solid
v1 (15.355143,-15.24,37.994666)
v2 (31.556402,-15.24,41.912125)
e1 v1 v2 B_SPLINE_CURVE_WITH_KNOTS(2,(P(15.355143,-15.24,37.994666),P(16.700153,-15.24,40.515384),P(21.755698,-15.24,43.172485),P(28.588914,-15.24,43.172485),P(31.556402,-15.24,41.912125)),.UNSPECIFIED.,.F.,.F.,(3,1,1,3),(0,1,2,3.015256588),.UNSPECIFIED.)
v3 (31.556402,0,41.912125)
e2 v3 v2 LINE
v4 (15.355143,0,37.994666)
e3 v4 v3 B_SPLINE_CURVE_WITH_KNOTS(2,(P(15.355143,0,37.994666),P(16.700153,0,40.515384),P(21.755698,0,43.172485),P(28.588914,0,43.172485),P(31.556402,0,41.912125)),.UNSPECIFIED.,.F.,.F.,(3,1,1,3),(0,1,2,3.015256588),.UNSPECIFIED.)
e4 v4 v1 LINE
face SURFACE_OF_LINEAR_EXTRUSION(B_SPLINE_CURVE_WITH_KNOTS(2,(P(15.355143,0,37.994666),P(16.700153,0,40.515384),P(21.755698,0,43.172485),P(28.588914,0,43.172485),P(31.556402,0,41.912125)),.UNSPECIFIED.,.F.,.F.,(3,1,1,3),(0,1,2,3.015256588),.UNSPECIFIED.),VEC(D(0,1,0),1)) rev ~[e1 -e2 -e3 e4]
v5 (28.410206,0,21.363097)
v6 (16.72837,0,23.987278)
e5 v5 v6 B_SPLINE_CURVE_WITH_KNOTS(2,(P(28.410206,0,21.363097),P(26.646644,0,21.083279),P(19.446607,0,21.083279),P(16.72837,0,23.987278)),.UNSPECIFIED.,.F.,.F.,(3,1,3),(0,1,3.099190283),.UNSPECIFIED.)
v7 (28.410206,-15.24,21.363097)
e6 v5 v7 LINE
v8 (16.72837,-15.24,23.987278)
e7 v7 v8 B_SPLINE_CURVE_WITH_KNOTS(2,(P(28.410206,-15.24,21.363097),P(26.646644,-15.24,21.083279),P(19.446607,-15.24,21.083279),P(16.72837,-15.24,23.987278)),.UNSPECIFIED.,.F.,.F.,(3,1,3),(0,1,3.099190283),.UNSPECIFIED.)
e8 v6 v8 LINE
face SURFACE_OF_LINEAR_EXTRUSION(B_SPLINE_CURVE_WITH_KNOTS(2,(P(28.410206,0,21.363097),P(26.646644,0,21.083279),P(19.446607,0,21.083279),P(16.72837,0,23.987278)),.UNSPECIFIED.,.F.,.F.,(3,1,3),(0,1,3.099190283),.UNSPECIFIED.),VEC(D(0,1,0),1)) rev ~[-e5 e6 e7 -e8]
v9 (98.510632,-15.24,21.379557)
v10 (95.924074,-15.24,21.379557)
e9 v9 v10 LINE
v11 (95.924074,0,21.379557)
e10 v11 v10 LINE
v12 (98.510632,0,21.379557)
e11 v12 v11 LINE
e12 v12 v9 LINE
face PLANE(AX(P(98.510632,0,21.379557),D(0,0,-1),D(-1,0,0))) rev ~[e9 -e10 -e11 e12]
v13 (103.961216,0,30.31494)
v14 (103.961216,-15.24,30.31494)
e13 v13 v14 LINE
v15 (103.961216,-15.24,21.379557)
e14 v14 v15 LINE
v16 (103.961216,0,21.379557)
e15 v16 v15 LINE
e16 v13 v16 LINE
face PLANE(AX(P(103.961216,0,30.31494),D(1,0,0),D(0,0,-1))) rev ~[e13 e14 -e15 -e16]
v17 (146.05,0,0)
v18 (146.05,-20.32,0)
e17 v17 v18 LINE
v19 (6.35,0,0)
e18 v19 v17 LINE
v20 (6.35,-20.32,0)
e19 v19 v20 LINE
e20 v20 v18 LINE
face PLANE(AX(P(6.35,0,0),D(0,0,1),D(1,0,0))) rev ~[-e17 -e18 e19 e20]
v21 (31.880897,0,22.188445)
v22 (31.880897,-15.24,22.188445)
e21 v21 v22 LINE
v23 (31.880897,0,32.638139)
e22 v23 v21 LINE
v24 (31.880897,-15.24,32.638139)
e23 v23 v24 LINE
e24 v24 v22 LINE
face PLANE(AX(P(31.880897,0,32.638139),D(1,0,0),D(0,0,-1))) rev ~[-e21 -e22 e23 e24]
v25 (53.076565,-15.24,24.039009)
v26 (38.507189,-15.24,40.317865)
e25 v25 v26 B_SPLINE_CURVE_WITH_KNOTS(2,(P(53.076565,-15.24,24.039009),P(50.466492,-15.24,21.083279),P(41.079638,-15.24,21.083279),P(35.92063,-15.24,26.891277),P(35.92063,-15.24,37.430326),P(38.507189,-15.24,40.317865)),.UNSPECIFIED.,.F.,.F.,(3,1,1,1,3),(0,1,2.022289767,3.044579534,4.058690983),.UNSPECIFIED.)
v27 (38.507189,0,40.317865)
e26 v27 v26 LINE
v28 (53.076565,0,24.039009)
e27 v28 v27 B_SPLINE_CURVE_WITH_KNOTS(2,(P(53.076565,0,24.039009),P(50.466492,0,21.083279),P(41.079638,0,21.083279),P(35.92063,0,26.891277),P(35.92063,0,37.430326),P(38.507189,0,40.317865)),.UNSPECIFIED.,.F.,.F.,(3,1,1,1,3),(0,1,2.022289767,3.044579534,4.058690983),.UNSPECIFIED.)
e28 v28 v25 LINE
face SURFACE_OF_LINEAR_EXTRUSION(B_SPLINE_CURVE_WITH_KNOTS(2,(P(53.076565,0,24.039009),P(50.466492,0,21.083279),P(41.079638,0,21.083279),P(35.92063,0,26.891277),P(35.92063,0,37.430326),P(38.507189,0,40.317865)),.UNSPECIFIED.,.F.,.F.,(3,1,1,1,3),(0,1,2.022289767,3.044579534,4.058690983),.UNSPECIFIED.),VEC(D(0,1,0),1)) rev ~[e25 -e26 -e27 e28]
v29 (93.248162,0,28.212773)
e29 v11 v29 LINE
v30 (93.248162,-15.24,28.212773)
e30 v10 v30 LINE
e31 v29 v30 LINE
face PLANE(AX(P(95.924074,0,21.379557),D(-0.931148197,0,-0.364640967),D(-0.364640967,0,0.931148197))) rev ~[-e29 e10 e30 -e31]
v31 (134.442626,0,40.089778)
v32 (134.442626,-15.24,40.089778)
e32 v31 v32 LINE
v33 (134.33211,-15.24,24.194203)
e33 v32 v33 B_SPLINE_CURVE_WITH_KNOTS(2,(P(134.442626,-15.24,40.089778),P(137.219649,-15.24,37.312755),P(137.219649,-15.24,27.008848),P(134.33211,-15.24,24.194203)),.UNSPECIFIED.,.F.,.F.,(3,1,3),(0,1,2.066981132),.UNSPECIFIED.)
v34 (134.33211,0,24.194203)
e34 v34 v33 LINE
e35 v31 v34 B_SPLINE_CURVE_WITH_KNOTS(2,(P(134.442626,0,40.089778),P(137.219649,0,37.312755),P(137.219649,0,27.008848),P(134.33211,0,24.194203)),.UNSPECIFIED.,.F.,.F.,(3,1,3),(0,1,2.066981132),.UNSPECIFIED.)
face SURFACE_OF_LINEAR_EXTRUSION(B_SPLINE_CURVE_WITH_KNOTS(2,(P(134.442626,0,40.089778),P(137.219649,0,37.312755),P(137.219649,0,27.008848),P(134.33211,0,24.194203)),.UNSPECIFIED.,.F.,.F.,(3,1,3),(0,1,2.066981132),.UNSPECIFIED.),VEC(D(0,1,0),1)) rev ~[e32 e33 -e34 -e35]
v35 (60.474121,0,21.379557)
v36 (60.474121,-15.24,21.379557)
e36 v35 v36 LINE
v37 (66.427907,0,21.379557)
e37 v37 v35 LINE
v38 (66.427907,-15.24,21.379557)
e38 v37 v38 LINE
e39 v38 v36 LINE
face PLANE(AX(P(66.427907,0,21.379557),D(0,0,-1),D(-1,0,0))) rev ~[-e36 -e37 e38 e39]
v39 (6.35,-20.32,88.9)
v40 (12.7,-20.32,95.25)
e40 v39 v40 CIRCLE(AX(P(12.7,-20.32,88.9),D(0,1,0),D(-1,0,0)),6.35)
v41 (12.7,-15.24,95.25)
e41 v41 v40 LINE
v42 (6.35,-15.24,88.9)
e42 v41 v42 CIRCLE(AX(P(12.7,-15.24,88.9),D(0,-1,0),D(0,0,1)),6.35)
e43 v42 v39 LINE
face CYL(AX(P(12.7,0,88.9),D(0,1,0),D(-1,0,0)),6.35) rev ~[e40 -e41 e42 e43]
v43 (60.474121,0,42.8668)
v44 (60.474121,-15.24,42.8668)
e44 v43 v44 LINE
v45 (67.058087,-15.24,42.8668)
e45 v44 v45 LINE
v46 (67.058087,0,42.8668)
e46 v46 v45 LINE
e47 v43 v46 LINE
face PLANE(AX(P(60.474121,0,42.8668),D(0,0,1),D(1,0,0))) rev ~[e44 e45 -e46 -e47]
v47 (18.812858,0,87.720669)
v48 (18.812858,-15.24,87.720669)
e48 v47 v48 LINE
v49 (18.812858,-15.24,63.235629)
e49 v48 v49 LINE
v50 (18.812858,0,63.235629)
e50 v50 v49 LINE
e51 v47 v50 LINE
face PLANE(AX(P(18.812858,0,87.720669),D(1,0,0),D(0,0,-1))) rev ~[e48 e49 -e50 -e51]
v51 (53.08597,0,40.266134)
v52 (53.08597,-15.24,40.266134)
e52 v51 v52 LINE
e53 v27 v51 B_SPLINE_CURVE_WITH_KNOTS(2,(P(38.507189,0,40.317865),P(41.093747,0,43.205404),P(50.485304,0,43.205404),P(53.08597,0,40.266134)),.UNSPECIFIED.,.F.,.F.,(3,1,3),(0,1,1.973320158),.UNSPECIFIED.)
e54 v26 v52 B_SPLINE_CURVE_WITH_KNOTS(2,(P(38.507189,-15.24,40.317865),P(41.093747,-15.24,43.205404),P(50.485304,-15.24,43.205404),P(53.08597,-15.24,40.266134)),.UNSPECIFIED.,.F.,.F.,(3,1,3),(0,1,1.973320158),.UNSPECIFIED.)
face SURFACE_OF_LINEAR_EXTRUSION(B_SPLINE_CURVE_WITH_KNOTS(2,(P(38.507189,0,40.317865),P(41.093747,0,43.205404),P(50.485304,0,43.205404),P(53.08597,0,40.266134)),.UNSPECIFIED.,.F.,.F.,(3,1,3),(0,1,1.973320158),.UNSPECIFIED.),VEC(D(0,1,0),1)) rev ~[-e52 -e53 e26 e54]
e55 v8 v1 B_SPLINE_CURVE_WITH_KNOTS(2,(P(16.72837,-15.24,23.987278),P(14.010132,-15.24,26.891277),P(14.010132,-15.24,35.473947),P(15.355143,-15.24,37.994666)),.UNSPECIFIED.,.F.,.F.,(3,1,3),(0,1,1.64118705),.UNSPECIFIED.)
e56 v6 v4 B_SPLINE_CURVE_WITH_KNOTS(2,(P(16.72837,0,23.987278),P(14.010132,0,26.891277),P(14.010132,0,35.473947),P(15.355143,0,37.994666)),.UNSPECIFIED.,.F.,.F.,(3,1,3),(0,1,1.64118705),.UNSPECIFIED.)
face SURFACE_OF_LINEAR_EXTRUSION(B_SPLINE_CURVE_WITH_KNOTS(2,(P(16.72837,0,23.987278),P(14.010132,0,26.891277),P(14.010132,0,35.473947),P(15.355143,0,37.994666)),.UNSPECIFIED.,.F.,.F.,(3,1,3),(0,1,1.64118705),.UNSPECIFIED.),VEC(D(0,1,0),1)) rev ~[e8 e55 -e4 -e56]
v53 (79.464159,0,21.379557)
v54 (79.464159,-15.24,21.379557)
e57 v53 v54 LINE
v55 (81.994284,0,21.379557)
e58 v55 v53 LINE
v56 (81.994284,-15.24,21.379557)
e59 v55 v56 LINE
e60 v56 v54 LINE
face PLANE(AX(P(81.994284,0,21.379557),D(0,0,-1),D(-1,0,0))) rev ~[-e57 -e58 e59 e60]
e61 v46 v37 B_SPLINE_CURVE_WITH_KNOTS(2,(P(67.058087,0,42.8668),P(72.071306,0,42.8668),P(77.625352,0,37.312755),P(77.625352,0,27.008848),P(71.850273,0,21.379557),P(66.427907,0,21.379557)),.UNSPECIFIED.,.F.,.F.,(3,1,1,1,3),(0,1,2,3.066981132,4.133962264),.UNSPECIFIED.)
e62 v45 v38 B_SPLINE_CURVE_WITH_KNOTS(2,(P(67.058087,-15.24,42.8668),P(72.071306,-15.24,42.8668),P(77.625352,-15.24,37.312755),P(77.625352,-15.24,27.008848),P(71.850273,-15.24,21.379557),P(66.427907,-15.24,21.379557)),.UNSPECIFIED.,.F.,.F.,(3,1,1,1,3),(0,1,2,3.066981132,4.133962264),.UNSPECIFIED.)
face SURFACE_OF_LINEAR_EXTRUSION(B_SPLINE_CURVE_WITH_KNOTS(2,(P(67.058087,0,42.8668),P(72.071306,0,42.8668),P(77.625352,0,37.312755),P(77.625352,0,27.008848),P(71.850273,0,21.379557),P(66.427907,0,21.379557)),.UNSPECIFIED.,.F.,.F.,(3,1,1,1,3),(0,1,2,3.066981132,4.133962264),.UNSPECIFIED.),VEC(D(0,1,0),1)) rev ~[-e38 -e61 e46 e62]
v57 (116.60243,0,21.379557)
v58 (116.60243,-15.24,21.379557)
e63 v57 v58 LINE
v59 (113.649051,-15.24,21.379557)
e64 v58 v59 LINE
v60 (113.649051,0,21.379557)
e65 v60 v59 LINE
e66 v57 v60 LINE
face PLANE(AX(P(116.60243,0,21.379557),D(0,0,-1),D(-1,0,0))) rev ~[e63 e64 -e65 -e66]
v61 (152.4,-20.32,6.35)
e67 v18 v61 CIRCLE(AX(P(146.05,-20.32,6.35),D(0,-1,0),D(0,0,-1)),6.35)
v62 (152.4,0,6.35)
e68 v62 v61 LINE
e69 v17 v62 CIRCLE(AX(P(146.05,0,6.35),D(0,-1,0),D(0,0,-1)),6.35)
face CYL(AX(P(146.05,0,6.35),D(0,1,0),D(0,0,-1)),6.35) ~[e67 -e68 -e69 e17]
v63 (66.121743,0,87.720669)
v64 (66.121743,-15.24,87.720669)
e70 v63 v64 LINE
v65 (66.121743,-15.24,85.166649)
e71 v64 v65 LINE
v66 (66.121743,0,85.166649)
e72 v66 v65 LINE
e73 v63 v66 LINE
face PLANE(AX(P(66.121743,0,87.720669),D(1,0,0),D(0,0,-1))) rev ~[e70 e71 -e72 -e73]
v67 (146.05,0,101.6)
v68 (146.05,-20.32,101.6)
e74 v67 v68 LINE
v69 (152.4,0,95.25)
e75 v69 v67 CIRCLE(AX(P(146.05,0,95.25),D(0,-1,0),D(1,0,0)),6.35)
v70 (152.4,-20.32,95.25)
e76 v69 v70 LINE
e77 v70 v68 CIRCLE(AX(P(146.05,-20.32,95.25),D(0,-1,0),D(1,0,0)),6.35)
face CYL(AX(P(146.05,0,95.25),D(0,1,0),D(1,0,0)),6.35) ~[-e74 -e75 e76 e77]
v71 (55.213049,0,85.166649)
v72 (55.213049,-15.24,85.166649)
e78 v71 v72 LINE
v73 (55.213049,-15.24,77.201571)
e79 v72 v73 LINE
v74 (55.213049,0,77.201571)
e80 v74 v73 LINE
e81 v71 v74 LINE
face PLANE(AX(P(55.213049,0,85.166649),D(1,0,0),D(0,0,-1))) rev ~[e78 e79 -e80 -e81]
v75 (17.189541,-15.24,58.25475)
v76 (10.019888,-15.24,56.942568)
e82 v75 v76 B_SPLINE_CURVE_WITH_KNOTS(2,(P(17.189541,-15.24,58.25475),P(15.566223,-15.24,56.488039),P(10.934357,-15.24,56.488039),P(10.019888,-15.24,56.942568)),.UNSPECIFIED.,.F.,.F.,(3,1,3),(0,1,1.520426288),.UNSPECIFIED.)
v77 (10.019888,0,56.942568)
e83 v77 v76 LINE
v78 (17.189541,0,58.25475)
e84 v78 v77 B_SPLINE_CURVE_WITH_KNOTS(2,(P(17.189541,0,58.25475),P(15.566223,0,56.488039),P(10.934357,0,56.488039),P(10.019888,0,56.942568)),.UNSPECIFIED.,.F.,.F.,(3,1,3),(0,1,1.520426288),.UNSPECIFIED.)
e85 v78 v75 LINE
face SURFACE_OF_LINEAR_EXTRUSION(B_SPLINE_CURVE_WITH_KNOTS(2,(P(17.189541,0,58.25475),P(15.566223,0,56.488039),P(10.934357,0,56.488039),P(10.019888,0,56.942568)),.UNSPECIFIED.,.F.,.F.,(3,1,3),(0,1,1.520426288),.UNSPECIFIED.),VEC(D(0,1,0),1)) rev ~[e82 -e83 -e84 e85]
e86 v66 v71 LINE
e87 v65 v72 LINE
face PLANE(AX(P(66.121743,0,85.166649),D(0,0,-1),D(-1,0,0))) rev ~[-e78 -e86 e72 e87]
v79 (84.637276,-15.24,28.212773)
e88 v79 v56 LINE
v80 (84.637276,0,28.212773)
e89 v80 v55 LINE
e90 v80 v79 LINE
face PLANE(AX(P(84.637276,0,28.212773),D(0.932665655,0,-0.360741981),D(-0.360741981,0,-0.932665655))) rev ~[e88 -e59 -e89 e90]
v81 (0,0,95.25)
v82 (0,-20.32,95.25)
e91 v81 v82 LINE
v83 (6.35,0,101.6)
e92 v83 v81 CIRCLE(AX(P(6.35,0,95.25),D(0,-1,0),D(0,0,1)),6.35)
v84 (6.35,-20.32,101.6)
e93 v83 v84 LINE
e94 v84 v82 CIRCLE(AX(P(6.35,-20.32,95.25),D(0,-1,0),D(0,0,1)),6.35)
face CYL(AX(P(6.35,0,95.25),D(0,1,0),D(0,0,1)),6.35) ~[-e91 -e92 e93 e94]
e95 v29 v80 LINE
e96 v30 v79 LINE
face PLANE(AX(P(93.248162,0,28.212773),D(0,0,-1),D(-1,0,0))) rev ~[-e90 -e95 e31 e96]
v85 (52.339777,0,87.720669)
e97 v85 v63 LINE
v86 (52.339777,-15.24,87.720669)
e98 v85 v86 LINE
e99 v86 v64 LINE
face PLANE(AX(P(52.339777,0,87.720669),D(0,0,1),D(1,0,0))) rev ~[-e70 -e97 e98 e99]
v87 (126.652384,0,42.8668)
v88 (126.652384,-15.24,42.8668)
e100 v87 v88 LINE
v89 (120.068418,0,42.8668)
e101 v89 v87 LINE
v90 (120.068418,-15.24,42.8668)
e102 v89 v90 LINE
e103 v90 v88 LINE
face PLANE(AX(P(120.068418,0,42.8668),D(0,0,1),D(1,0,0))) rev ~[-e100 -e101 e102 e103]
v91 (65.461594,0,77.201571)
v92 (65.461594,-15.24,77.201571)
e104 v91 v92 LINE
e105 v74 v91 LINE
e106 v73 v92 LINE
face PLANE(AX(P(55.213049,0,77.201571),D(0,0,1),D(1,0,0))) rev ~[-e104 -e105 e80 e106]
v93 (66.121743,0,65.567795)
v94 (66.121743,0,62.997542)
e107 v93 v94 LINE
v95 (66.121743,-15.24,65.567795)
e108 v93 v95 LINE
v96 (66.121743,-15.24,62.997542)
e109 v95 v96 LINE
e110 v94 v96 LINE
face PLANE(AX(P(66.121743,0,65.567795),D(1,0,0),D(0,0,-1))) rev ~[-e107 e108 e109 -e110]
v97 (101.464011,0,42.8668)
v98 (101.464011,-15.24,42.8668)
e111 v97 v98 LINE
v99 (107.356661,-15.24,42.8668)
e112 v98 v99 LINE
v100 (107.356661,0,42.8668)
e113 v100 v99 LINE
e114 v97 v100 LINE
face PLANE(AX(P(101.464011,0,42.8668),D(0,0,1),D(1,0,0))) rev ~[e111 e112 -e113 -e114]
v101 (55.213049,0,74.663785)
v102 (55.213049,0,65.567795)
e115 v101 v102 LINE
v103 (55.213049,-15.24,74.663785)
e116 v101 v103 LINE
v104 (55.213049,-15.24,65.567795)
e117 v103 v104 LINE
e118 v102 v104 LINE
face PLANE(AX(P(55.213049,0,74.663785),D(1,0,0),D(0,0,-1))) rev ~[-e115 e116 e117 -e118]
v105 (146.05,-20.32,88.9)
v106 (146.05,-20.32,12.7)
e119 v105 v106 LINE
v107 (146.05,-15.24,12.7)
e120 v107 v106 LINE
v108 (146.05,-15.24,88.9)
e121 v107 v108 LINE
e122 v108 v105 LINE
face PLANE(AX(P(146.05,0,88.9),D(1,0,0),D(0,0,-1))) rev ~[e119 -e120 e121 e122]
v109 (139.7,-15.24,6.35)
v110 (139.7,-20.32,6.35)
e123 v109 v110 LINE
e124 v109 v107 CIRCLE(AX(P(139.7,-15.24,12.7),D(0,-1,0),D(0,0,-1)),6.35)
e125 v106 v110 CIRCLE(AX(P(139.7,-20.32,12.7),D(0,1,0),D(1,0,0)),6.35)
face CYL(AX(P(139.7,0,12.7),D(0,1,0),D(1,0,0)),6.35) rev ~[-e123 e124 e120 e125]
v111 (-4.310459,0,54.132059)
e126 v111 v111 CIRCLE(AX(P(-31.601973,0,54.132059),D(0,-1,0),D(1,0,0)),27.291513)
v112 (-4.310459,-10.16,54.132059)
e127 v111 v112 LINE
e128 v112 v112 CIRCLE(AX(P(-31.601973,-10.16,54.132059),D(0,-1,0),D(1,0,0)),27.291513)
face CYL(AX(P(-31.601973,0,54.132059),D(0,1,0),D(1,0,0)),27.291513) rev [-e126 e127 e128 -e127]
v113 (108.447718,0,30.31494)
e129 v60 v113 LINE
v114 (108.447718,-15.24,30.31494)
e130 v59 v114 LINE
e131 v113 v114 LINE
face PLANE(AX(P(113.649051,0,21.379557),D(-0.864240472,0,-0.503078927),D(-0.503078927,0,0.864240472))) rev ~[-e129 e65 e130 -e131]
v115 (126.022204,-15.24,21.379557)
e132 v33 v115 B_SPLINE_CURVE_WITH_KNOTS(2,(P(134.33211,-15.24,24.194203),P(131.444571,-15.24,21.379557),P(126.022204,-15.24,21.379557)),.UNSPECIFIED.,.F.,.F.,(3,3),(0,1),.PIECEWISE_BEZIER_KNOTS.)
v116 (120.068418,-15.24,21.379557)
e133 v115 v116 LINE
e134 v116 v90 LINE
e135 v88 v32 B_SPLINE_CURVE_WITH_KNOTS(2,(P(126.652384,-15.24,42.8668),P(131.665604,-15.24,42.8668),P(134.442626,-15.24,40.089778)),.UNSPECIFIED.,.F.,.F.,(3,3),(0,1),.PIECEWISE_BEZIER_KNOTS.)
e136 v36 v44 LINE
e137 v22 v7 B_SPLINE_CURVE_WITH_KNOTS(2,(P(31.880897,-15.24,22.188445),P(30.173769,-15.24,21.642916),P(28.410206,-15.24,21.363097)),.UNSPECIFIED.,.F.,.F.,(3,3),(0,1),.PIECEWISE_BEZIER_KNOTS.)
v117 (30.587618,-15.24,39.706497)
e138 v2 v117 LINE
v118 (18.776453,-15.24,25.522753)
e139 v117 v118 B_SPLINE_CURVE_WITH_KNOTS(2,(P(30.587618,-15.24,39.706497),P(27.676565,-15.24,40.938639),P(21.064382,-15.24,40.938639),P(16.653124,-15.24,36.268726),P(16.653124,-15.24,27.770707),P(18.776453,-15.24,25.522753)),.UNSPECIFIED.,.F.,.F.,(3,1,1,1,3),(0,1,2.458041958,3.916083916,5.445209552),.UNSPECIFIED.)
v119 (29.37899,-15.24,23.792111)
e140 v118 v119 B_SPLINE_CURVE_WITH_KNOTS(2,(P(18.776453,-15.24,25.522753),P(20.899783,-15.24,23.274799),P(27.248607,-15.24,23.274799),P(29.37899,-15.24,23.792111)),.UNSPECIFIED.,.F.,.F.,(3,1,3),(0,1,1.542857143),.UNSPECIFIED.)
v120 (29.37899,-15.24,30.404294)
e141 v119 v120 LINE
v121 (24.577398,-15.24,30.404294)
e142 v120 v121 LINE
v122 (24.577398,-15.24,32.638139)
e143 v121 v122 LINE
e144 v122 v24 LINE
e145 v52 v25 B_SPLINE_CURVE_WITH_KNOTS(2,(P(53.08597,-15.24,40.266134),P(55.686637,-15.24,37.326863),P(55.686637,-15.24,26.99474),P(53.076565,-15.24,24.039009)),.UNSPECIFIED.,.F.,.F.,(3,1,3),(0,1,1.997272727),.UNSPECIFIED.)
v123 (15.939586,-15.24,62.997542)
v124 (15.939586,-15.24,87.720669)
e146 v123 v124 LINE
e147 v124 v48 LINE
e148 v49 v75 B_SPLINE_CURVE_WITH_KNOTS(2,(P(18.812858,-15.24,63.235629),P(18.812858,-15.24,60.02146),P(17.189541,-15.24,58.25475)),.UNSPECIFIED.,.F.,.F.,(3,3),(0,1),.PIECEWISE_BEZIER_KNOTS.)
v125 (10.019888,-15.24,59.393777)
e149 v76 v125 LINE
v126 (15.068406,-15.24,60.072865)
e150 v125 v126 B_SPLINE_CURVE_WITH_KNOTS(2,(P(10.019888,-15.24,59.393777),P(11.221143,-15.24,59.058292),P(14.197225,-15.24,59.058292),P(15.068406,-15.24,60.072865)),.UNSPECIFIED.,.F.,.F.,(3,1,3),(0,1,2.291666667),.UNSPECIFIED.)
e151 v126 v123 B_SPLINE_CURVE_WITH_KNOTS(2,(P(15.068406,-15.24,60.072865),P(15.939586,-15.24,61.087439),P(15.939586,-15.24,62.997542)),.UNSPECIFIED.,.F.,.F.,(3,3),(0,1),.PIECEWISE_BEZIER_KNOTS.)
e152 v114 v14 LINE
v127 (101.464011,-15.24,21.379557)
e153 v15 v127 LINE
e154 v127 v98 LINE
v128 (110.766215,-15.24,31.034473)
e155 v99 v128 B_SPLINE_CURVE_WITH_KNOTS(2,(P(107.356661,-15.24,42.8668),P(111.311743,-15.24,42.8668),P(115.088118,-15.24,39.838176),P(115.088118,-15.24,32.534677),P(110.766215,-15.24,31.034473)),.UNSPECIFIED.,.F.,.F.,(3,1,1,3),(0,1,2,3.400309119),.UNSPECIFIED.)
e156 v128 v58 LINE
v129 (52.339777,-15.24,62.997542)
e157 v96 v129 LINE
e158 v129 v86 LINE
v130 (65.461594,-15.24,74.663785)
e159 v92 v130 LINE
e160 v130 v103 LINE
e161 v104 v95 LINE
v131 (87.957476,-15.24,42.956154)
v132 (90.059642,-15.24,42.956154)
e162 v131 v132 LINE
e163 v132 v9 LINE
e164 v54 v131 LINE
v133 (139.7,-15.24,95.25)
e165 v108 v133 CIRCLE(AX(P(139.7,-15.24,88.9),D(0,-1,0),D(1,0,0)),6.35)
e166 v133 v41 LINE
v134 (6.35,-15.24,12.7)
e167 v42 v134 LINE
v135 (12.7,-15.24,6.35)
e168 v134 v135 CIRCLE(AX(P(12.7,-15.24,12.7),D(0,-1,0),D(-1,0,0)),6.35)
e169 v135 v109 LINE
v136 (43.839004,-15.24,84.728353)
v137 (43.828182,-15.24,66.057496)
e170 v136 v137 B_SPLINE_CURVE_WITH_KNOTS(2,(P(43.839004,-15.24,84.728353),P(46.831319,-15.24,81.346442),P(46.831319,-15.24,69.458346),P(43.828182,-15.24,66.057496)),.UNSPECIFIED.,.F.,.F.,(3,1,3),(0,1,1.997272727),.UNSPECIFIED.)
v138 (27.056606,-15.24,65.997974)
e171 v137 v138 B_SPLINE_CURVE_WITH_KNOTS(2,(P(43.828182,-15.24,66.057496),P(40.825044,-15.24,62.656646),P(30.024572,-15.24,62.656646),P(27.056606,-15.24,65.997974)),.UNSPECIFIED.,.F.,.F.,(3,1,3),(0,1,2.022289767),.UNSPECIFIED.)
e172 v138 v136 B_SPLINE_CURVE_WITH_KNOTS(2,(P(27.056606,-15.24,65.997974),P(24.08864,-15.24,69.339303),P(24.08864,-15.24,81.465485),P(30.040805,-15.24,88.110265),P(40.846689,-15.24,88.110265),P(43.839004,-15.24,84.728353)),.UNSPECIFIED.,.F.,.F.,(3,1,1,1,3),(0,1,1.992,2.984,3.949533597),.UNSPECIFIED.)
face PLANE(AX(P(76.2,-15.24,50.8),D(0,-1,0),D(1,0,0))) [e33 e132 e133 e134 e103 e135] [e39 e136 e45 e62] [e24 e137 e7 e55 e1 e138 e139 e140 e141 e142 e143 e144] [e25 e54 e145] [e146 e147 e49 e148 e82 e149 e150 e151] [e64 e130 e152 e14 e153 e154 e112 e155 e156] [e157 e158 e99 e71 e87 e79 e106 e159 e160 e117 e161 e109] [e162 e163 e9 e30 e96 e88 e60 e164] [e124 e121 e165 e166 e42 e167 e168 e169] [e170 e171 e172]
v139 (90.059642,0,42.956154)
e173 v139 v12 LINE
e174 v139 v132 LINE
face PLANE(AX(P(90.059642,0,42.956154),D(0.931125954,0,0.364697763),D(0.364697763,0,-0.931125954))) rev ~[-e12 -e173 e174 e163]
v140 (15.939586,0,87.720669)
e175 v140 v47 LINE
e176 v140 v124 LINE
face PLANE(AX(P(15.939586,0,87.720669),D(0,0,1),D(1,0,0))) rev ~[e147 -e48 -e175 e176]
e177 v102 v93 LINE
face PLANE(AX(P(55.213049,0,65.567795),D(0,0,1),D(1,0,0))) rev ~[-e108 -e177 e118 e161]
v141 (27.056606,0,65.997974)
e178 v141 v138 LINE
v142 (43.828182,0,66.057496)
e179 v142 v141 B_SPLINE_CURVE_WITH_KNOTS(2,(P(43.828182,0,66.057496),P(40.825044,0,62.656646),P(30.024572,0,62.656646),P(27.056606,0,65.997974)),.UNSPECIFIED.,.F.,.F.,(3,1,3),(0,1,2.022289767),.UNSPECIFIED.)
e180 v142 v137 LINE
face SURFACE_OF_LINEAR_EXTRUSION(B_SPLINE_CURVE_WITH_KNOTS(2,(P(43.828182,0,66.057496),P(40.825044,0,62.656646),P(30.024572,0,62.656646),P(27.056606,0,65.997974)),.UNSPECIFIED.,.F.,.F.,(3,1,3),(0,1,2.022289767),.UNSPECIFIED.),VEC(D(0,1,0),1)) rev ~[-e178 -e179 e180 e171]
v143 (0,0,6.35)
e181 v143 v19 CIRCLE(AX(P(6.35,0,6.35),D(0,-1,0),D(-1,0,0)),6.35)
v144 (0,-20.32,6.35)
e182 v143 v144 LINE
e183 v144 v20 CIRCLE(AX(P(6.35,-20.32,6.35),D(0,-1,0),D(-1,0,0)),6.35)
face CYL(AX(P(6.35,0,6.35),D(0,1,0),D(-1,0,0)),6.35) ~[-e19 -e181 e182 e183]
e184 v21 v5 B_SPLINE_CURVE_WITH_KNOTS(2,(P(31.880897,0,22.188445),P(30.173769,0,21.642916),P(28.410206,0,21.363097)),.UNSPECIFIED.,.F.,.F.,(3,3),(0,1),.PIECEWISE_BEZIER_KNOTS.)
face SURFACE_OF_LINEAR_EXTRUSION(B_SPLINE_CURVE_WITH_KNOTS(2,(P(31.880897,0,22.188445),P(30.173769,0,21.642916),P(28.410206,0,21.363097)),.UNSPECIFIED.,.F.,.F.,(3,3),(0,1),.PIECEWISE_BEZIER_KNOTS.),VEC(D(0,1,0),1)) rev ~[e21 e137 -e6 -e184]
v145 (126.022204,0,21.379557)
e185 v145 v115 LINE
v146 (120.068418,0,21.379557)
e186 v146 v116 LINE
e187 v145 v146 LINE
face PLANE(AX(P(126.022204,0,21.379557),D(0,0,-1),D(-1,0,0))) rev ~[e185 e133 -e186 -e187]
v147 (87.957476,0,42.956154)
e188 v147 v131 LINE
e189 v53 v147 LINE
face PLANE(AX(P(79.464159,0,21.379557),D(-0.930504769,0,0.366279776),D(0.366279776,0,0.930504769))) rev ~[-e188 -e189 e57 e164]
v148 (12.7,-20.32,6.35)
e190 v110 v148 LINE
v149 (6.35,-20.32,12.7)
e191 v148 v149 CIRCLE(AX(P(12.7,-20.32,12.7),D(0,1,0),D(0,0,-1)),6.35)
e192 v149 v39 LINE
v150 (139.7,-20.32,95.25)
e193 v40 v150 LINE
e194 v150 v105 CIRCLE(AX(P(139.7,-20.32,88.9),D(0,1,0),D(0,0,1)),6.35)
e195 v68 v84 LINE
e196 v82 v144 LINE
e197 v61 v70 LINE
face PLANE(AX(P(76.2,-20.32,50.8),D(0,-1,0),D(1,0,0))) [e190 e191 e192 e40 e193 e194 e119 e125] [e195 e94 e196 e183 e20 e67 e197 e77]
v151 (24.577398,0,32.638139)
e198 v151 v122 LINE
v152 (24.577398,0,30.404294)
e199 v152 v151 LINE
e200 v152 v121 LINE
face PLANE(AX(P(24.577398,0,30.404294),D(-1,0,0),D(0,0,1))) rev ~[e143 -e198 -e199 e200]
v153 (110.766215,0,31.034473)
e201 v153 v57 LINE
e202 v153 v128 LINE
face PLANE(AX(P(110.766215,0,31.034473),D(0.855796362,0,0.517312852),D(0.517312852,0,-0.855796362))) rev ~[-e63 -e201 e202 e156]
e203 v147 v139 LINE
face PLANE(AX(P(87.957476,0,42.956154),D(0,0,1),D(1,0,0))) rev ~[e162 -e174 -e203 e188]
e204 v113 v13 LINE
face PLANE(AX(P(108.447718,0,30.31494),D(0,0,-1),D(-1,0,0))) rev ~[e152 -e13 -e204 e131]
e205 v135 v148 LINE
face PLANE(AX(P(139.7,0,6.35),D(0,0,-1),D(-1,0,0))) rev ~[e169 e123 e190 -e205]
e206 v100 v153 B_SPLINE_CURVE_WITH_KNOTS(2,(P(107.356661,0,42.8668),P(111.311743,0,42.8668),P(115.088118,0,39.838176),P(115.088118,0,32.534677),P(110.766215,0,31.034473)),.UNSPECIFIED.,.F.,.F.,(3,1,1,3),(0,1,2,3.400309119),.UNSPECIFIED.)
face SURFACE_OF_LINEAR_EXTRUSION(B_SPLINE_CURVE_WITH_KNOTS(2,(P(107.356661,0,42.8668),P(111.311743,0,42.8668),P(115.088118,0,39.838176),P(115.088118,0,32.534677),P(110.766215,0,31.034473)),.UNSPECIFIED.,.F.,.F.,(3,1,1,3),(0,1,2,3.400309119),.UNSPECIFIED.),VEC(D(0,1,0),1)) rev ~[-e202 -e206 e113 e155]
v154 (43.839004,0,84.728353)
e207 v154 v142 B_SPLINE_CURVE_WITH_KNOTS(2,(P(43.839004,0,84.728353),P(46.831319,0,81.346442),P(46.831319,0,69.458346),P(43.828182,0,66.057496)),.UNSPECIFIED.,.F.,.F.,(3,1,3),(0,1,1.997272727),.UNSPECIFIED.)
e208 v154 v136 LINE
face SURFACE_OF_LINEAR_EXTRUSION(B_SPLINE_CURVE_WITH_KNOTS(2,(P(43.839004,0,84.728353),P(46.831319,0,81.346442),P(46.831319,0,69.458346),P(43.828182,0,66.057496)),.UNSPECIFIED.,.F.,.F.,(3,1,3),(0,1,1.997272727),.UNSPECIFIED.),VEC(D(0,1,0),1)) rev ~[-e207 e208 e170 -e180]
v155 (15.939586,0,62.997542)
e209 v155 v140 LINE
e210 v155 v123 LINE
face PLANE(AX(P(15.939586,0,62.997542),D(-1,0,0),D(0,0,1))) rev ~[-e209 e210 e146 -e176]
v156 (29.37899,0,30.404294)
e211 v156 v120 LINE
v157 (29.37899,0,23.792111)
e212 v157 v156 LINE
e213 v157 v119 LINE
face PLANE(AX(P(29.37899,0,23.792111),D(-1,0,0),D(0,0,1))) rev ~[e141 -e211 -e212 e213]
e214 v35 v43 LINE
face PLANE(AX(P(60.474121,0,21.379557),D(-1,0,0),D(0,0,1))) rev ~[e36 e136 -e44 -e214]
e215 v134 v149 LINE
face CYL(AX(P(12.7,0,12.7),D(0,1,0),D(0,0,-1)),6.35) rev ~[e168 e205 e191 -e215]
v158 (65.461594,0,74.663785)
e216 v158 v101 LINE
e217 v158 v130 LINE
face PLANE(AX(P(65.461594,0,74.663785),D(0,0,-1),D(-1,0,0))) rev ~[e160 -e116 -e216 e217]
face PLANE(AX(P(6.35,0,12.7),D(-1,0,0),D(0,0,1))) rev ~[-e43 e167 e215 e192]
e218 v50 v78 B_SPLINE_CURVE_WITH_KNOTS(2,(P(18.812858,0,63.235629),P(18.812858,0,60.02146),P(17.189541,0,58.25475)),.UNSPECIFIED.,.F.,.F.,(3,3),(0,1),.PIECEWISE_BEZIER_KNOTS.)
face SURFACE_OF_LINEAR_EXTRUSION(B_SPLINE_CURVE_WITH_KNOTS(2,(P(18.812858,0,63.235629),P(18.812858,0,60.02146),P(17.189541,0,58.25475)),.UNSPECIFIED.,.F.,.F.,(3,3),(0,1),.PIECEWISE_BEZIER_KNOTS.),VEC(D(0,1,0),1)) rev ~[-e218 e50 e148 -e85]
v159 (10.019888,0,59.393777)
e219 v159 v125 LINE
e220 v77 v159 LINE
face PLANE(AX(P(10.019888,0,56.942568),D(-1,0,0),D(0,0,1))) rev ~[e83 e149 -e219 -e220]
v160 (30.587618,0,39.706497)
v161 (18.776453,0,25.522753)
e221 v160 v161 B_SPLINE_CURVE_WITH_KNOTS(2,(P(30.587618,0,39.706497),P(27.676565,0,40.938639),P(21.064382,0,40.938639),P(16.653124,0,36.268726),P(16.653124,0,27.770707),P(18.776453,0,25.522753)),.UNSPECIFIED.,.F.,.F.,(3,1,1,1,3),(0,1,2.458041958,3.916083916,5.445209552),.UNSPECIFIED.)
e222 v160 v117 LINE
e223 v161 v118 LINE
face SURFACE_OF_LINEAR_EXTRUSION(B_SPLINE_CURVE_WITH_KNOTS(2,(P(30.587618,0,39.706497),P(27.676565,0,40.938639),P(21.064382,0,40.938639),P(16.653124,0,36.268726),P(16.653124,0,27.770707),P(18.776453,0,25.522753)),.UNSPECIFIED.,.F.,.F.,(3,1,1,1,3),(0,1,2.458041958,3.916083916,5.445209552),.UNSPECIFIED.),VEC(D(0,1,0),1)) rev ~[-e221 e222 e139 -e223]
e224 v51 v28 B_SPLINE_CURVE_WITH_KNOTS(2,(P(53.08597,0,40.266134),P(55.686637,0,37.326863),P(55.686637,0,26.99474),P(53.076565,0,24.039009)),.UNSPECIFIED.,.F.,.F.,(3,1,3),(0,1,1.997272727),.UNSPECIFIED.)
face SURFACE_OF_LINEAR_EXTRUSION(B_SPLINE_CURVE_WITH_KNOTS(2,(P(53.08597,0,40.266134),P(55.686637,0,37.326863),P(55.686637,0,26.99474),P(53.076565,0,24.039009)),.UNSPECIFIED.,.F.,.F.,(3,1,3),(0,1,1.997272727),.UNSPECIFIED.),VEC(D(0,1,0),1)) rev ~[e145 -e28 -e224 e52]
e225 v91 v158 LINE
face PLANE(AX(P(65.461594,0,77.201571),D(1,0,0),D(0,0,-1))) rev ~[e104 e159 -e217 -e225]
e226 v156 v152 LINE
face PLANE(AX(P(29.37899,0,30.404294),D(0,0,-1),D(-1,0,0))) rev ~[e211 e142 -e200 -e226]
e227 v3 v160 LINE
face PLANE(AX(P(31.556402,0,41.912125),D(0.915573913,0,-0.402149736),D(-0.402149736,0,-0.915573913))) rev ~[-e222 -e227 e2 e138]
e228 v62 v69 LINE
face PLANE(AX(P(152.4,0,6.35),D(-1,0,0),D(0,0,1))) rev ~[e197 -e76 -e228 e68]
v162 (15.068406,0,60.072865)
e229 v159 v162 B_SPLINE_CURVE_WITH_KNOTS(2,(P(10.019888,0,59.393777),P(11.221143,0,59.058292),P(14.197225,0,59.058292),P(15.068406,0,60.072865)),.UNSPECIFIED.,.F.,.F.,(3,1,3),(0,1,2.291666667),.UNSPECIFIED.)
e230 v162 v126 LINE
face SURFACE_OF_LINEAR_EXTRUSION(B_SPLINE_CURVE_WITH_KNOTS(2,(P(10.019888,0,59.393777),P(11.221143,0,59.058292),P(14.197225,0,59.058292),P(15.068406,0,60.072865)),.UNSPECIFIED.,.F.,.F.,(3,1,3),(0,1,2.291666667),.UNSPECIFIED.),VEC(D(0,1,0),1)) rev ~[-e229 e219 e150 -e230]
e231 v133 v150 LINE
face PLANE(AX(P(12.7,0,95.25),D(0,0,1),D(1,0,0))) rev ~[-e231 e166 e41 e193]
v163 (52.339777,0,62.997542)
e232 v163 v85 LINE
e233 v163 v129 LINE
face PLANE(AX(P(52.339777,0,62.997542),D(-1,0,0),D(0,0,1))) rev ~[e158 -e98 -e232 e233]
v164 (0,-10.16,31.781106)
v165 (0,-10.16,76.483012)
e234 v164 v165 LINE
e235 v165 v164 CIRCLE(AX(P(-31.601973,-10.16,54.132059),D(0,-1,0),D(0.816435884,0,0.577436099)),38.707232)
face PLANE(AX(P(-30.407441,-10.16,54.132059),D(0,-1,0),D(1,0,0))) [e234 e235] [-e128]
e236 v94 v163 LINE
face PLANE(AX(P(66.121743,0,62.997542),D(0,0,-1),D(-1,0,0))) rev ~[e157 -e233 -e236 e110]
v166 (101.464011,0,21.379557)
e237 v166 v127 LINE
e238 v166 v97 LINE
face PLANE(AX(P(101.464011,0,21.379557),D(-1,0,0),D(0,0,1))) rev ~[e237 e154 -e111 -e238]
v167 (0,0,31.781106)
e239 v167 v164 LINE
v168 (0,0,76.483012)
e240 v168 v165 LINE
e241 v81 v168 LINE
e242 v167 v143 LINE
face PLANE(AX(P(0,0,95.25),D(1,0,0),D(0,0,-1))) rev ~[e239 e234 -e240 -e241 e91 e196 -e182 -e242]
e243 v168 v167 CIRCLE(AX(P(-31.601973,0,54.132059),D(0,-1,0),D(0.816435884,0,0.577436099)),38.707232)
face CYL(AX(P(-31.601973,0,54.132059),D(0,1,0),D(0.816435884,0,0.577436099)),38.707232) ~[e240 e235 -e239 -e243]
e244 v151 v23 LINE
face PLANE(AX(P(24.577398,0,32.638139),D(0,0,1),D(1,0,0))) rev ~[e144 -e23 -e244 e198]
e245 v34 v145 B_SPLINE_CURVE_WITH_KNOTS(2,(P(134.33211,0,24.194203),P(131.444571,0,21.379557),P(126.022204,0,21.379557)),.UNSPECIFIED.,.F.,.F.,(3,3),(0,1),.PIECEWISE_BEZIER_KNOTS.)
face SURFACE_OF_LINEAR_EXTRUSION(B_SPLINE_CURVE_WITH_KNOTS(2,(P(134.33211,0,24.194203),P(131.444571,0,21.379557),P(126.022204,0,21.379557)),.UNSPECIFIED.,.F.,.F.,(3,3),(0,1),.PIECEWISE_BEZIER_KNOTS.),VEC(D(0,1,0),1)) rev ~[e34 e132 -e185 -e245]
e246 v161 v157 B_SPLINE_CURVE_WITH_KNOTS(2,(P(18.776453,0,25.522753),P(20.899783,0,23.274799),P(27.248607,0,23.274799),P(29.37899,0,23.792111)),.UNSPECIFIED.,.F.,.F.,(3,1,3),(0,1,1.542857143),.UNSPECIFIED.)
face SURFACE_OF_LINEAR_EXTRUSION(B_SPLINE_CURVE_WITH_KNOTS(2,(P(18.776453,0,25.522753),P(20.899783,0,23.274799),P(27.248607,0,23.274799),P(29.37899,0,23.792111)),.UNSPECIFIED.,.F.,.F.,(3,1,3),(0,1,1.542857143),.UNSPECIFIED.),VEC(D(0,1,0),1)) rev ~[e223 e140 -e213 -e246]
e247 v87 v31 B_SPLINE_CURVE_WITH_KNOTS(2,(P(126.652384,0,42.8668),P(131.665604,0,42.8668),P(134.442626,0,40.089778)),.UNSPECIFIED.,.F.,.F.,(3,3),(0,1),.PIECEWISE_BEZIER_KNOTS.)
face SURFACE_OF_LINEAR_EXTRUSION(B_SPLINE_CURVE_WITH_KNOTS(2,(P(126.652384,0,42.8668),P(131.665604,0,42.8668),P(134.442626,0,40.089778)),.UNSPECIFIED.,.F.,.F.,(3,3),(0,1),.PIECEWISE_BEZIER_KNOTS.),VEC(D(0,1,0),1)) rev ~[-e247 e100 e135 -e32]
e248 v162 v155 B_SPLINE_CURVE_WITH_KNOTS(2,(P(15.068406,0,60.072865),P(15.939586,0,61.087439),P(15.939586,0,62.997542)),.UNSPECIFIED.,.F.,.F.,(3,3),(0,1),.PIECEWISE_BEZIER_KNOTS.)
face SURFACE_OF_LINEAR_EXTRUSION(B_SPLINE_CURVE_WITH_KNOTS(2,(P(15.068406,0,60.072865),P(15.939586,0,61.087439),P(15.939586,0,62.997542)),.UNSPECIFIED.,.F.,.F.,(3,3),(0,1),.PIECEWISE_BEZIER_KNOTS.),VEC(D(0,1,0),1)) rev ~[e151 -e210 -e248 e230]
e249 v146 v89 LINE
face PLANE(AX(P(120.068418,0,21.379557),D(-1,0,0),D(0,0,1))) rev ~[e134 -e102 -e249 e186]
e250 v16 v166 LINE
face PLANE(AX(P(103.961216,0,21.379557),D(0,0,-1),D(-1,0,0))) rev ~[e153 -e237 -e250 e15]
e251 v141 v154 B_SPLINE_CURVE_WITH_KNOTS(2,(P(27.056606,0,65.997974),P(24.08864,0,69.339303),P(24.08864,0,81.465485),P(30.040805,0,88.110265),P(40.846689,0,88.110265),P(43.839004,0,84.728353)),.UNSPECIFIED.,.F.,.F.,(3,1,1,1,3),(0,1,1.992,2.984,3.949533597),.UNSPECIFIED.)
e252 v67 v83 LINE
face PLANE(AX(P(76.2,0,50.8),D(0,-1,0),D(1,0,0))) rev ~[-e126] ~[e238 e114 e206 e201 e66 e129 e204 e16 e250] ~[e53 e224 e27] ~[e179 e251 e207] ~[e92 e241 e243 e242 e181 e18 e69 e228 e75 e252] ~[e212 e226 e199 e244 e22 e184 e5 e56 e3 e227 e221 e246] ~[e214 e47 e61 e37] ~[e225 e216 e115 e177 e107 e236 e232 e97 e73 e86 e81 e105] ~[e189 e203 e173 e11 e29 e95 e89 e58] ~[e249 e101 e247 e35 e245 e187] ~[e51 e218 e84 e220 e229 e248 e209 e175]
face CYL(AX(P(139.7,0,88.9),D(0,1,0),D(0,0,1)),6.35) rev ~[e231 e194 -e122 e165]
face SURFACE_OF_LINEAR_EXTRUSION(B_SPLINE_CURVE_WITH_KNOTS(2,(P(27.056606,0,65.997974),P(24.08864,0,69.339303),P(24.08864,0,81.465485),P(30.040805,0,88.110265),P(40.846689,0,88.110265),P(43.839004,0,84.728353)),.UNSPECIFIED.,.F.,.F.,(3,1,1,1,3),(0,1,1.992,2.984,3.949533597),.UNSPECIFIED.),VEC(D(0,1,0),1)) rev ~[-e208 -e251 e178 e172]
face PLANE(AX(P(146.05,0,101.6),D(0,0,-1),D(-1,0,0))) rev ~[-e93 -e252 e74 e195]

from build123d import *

# Parameters (mm, degrees)
F1_DEPTH = 20.32
F2_DEPTH = 15.24
F0_R     = 27.2915133995
F3_DEPTH = 10.16


with BuildPart() as f1:
    # F0 (on Front) → F1 (new body)
    with BuildSketch(Plane.XZ):
        with BuildLine():
            ThreePointArc((0, 6.35), (1.8598719395, 1.8598719395), (6.35, 0))
            Line((6.35, 0), (146.05, 0))
            ThreePointArc((146.05, 0), (150.5401280605, 1.8598719395), (152.4, 6.35))
            Line((152.4, 6.35), (152.4, 95.25))
            ThreePointArc((152.4, 95.25), (150.5401280605, 99.7401280605), (146.05, 101.6))
            Line((146.05, 101.6), (6.35, 101.6))
            ThreePointArc((6.35, 101.6), (1.8598719395, 99.7401280605), (0, 95.25))
            Line((0, 95.25), (0, 76.4830120565))
            Line((0, 76.4830120565), (0, 31.7811063765))
            Line((0, 31.7811063765), (0, 6.35))
        make_face()
        with BuildLine():
            ThreePointArc((6.35, 88.9), (8.2098719395, 93.3901280605), (12.7, 95.25))
            Line((12.7, 95.25), (139.7, 95.25))
            ThreePointArc((139.7, 95.25), (144.1901280605, 93.3901280605), (146.05, 88.9))
            Line((146.05, 88.9), (146.05, 12.7))
            ThreePointArc((146.05, 12.7), (144.1901280605, 8.2098719395), (139.7, 6.35))
            Line((139.7, 6.35), (12.7, 6.35))
            ThreePointArc((12.7, 6.35), (8.2098719395, 8.2098719395), (6.35, 12.7))
            Line((6.35, 12.7), (6.35, 88.9))
        make_face(mode=Mode.SUBTRACT)
    extrude(amount=F1_DEPTH)

    # F0 (on Front) → F2 (join)
    with BuildSketch(Plane.XZ):
        with BuildLine():
            Line((139.7, 95.25), (12.7, 95.25))
            ThreePointArc((12.7, 95.25), (8.2098719395, 93.3901280605), (6.35, 88.9))
            Line((6.35, 88.9), (6.35, 12.7))
            ThreePointArc((6.35, 12.7), (8.2098719395, 8.2098719395), (12.7, 6.35))
            Line((12.7, 6.35), (139.7, 6.35))
            ThreePointArc((139.7, 6.35), (144.1901280605, 8.2098719395), (146.05, 12.7))
            Line((146.05, 12.7), (146.05, 88.9))
            ThreePointArc((146.05, 88.9), (144.1901280605, 93.3901280605), (139.7, 95.25))
        make_face()
        with BuildLine():
            Line((24.5773977576, 30.4042935003), (24.5773977576, 32.6381390844))
            Line((24.5773977576, 32.6381390844), (31.8808971096, 32.6381390844))
            Line((31.8808971096, 32.6381390844), (31.8808971096, 22.1884445834))
            add(Edge.make_bspline(
                [(31.8808971096, 22.1884445834), (30.1737688, 21.6429159776), (28.4102064967, 21.3630974255)],
                knots=[0, 0, 0, 1, 1, 1], degree=2))
            add(Edge.make_bspline(
                [(28.4102064967, 21.3630974255), (26.6466441934, 21.0832788733), (24.3234447859, 21.0832788733)],
                knots=[0, 0, 0, 1, 1, 1], degree=2))
            add(Edge.make_bspline(
                [(24.3234447859, 21.0832788733), (19.4466071633, 21.0832788733), (16.7283697998, 23.9872781327)],
                knots=[0, 0, 0, 1, 1, 1], degree=2))
            add(Edge.make_bspline(
                [(16.7283697998, 23.9872781327), (14.0101324364, 26.8912773921), (14.0101324364, 32.1208274754)],
                knots=[0, 0, 0, 1, 1, 1], degree=2))
            add(Edge.make_bspline(
                [(14.0101324364, 32.1208274754), (14.0101324364, 35.4739472681), (15.3551426197, 37.9946656536)],
                knots=[0, 0, 0, 1, 1, 1], degree=2))
            add(Edge.make_bspline(
                [(15.3551426197, 37.9946656536), (16.700152803, 40.515384039), (19.2279254377, 41.8439343075)],
                knots=[0, 0, 0, 1, 1, 1], degree=2))
            add(Edge.make_bspline(
                [(19.2279254377, 41.8439343075), (21.7556980724, 43.172484576), (25.1464405275, 43.172484576)],
                knots=[0, 0, 0, 1, 1, 1], degree=2))
            add(Edge.make_bspline(
                [(25.1464405275, 43.172484576), (28.5889141435, 43.172484576), (31.5564016458, 41.9121253832)],
                knots=[0, 0, 0, 1, 1, 1], degree=2))
            Line((31.5564016458, 41.9121253832), (30.5876180872, 39.7064967959))
            add(Edge.make_bspline(
                [(30.5876180872, 39.7064967959), (27.6765645786, 40.9386389918), (24.986544212, 40.9386389918)],
                knots=[0, 0, 0, 1, 1, 1], degree=2))
            add(Edge.make_bspline(
                [(24.986544212, 40.9386389918), (21.0643816495, 40.9386389918), (18.8587530622, 38.6036825023)],
                knots=[0, 0, 0, 1, 1, 1], degree=2))
            add(Edge.make_bspline(
                [(18.8587530622, 38.6036825023), (16.6531244749, 36.2687260128), (16.6531244749, 32.1208274754)],
                knots=[0, 0, 0, 1, 1, 1], degree=2))
            add(Edge.make_bspline(
                [(16.6531244749, 32.1208274754), (16.6531244749, 27.7707071274), (18.776453488, 25.5227530448)],
                knots=[0, 0, 0, 1, 1, 1], degree=2))
            add(Edge.make_bspline(
                [(18.776453488, 25.5227530448), (20.8997825012, 23.2747989622), (25.0147612088, 23.2747989622)],
                knots=[0, 0, 0, 1, 1, 1], degree=2))
            add(Edge.make_bspline(
                [(25.0147612088, 23.2747989622), (27.248606793, 23.2747989622), (29.3789900553, 23.7921105712)],
                knots=[0, 0, 0, 1, 1, 1], degree=2))
            Line((29.3789900553, 23.7921105712), (29.3789900553, 30.4042935003))
            Line((29.3789900553, 30.4042935003), (24.5773977576, 30.4042935003))
        make_face(mode=Mode.SUBTRACT)
        with BuildLine():
            add(Edge.make_bspline(
                [(53.0859702442, 40.2661339002), (55.6866367874, 37.3268633947), (55.6866367874, 32.1537473051)],
                knots=[0, 0, 0, 1, 1, 1], degree=2))
            add(Edge.make_bspline(
                [(55.6866367874, 32.1537473051), (55.6866367874, 26.9947397139), (53.0765645786, 24.0390092936)],
                knots=[0, 0, 0, 1, 1, 1], degree=2))
            add(Edge.make_bspline(
                [(53.0765645786, 24.0390092936), (50.4664923697, 21.0832788733), (45.8247963875, 21.0832788733)],
                knots=[0, 0, 0, 1, 1, 1], degree=2))
            add(Edge.make_bspline(
                [(45.8247963875, 21.0832788733), (41.0796380835, 21.0832788733), (38.5001342879, 23.9872781327)],
                knots=[0, 0, 0, 1, 1, 1], degree=2))
            add(Edge.make_bspline(
                [(38.5001342879, 23.9872781327), (35.9206304923, 26.8912773921), (35.9206304923, 32.181964302)],
                knots=[0, 0, 0, 1, 1, 1], degree=2))
            add(Edge.make_bspline(
                [(35.9206304923, 32.181964302), (35.9206304923, 37.4303257165), (38.5071885371, 40.3178650611)],
                knots=[0, 0, 0, 1, 1, 1], degree=2))
            add(Edge.make_bspline(
                [(38.5071885371, 40.3178650611), (41.0937465819, 43.2054044056), (45.8530133843, 43.2054044056)],
                knots=[0, 0, 0, 1, 1, 1], degree=2))
            add(Edge.make_bspline(
                [(45.8530133843, 43.2054044056), (50.4853037009, 43.2054044056), (53.0859702442, 40.2661339002)],
                knots=[0, 0, 0, 1, 1, 1], degree=2))
        make_face(mode=Mode.SUBTRACT)
        with BuildLine():
            add(Edge.make_bspline(
                [(74.8483290666, 40.0897776699), (77.6253518402, 37.3127548963), (77.6253518402, 32.327752119)],
                knots=[0, 0, 0, 1, 1, 1], degree=2))
            add(Edge.make_bspline(
                [(77.6253518402, 32.327752119), (77.6253518402, 27.0088482123), (74.7378124956, 24.1942027763)],
                knots=[0, 0, 0, 1, 1, 1], degree=2))
            add(Edge.make_bspline(
                [(74.7378124956, 24.1942027763), (71.850273151, 21.3795573403), (66.4279069226, 21.3795573403)],
                knots=[0, 0, 0, 1, 1, 1], degree=2))
            Line((66.4279069226, 21.3795573403), (60.4741205867, 21.3795573403))
            Line((60.4741205867, 21.3795573403), (60.4741205867, 42.8668004434))
            Line((60.4741205867, 42.8668004434), (67.0580865189, 42.8668004434))
            add(Edge.make_bspline(
                [(67.0580865189, 42.8668004434), (72.0713062931, 42.8668004434), (74.8483290666, 40.0897776699)],
                knots=[0, 0, 0, 1, 1, 1], degree=2))
        make_face(mode=Mode.SUBTRACT)
        Polygon((98.5106323438, 21.3795573403), (95.924074299, 21.3795573403), (93.2481624308, 28.2127734114), (84.637275558, 28.2127734114), (81.9942835195, 21.3795573403), (79.4641594684, 21.3795573403), (87.957475521, 42.9561542668), (90.0596417865, 42.9561542668), align=None, mode=Mode.SUBTRACT)
        with BuildLine():
            Line((108.4477180687, 30.3149396769), (103.9612155691, 30.3149396769))
            Line((103.9612155691, 30.3149396769), (103.9612155691, 21.3795573403))
            Line((103.9612155691, 21.3795573403), (101.4640113477, 21.3795573403))
            Line((101.4640113477, 21.3795573403), (101.4640113477, 42.8668004434))
            Line((101.4640113477, 42.8668004434), (107.356660857, 42.8668004434))
            add(Edge.make_bspline(
                [(107.356660857, 42.8668004434), (111.3117432492, 42.8668004434), (113.1999306219, 41.352488279)],
                knots=[0, 0, 0, 1, 1, 1], degree=2))
            add(Edge.make_bspline(
                [(113.1999306219, 41.352488279), (115.0881179946, 39.8381761146), (115.0881179946, 36.7954432873)],
                knots=[0, 0, 0, 1, 1, 1], degree=2))
            add(Edge.make_bspline(
                [(115.0881179946, 36.7954432873), (115.0881179946, 32.5346767626), (110.7662146434, 31.0344730966)],
                knots=[0, 0, 0, 1, 1, 1], degree=2))
            Line((110.7662146434, 31.0344730966), (116.602430159, 21.3795573403))
            Line((116.602430159, 21.3795573403), (113.6490511551, 21.3795573403))
            Line((113.6490511551, 21.3795573403), (108.4477180687, 30.3149396769))
        make_face(mode=Mode.SUBTRACT)
        with BuildLine():
            add(Edge.make_bspline(
                [(134.442626419, 40.0897776699), (137.2196491925, 37.3127548963), (137.2196491925, 32.327752119)],
                knots=[0, 0, 0, 1, 1, 1], degree=2))
            add(Edge.make_bspline(
                [(137.2196491925, 32.327752119), (137.2196491925, 27.0088482123), (134.332109848, 24.1942027763)],
                knots=[0, 0, 0, 1, 1, 1], degree=2))
            add(Edge.make_bspline(
                [(134.332109848, 24.1942027763), (131.4445705034, 21.3795573403), (126.0222042749, 21.3795573403)],
                knots=[0, 0, 0, 1, 1, 1], degree=2))
            Line((126.0222042749, 21.3795573403), (120.0684179391, 21.3795573403))
            Line((120.0684179391, 21.3795573403), (120.0684179391, 42.8668004434))
            Line((120.0684179391, 42.8668004434), (126.6523838713, 42.8668004434))
            add(Edge.make_bspline(
                [(126.6523838713, 42.8668004434), (131.6656036454, 42.8668004434), (134.442626419, 40.0897776699)],
                knots=[0, 0, 0, 1, 1, 1], degree=2))
        make_face(mode=Mode.SUBTRACT)
        with BuildLine():
            add(Edge.make_bspline(
                [(17.1895407936, 58.2547495158), (15.5662232331, 56.4880389041), (12.5197972779, 56.4880389041)],
                knots=[0, 0, 0, 1, 1, 1], degree=2))
            add(Edge.make_bspline(
                [(12.5197972779, 56.4880389041), (10.9343571271, 56.4880389041), (10.0198882347, 56.942567821)],
                knots=[0, 0, 0, 1, 1, 1], degree=2))
            Line((10.0198882347, 56.942567821), (10.0198882347, 59.3937773374))
            add(Edge.make_bspline(
                [(10.0198882347, 59.3937773374), (11.2211432295, 59.0582917082), (12.5197972779, 59.0582917082)],
                knots=[0, 0, 0, 1, 1, 1], degree=2))
            add(Edge.make_bspline(
                [(12.5197972779, 59.0582917082), (14.1972254237, 59.0582917082), (15.0684058479, 60.0728651835)],
                knots=[0, 0, 0, 1, 1, 1], degree=2))
            add(Edge.make_bspline(
                [(15.0684058479, 60.0728651835), (15.939586272, 61.0874386588), (15.939586272, 62.9975423217)],
                knots=[0, 0, 0, 1, 1, 1], degree=2))
            Line((15.939586272, 62.9975423217), (15.939586272, 87.720668768))
            Line((15.939586272, 87.720668768), (18.8128583541, 87.720668768))
            Line((18.8128583541, 87.720668768), (18.8128583541, 63.2356288972))
            add(Edge.make_bspline(
                [(18.8128583541, 63.2356288972), (18.8128583541, 60.0214601274), (17.1895407936, 58.2547495158)],
                knots=[0, 0, 0, 1, 1, 1], degree=2))
        make_face(mode=Mode.SUBTRACT)
        with BuildLine():
            add(Edge.make_bspline(
                [(43.8390040783, 84.7283533981), (46.8313194482, 81.3464418138), (46.8313194482, 75.3942774253)],
                knots=[0, 0, 0, 1, 1, 1], degree=2))
            add(Edge.make_bspline(
                [(46.8313194482, 75.3942774253), (46.8313194482, 69.4583462124), (43.8281819612, 66.0574959232)],
                knots=[0, 0, 0, 1, 1, 1], degree=2))
            add(Edge.make_bspline(
                [(43.8281819612, 66.0574959232), (40.8250444743, 62.656645634), (35.4843297003, 62.656645634)],
                knots=[0, 0, 0, 1, 1, 1], degree=2))
            add(Edge.make_bspline(
                [(35.4843297003, 62.656645634), (30.0245716385, 62.656645634), (27.0566060321, 65.9979742793)],
                knots=[0, 0, 0, 1, 1, 1], degree=2))
            add(Edge.make_bspline(
                [(27.0566060321, 65.9979742793), (24.0886404257, 69.3393029247), (24.0886404257, 75.4267437765)],
                knots=[0, 0, 0, 1, 1, 1], degree=2))
            add(Edge.make_bspline(
                [(24.0886404257, 75.4267437765), (24.0886404257, 81.4654851015), (27.0647226199, 84.787875042)],
                knots=[0, 0, 0, 1, 1, 1], degree=2))
            add(Edge.make_bspline(
                [(27.0647226199, 84.787875042), (30.0408048141, 88.1102649825), (35.5167960515, 88.1102649825)],
                knots=[0, 0, 0, 1, 1, 1], degree=2))
            add(Edge.make_bspline(
                [(35.5167960515, 88.1102649825), (40.8466887085, 88.1102649825), (43.8390040783, 84.7283533981)],
                knots=[0, 0, 0, 1, 1, 1], degree=2))
        make_face(mode=Mode.SUBTRACT)
        Polygon((66.1217431253, 65.5677951258), (66.1217431253, 62.9975423217), (52.3397770368, 62.9975423217), (52.3397770368, 87.720668768), (66.1217431253, 87.720668768), (66.1217431253, 85.1666491395), (55.2130491188, 85.1666491395), (55.2130491188, 77.201570976), (65.4615939841, 77.201570976), (65.4615939841, 74.6637845231), (55.2130491188, 74.6637845231), (55.2130491188, 65.5677951258), align=None, mode=Mode.SUBTRACT)
    extrude(amount=F2_DEPTH)

    # F0 (on Front) → F3 (join)
    with BuildSketch(Plane.XZ):
        with BuildLine():
            ThreePointArc((0, 76.4830120565), (-70.3092045361, 54.1320592165), (0, 31.7811063765))
            Line((0, 31.7811063765), (0, 76.4830120565))
        make_face()
        with Locations((-31.601972878, 54.1320592165)):
            Circle(F0_R, mode=Mode.SUBTRACT)
    extrude(amount=F3_DEPTH)


solid = f1.part
